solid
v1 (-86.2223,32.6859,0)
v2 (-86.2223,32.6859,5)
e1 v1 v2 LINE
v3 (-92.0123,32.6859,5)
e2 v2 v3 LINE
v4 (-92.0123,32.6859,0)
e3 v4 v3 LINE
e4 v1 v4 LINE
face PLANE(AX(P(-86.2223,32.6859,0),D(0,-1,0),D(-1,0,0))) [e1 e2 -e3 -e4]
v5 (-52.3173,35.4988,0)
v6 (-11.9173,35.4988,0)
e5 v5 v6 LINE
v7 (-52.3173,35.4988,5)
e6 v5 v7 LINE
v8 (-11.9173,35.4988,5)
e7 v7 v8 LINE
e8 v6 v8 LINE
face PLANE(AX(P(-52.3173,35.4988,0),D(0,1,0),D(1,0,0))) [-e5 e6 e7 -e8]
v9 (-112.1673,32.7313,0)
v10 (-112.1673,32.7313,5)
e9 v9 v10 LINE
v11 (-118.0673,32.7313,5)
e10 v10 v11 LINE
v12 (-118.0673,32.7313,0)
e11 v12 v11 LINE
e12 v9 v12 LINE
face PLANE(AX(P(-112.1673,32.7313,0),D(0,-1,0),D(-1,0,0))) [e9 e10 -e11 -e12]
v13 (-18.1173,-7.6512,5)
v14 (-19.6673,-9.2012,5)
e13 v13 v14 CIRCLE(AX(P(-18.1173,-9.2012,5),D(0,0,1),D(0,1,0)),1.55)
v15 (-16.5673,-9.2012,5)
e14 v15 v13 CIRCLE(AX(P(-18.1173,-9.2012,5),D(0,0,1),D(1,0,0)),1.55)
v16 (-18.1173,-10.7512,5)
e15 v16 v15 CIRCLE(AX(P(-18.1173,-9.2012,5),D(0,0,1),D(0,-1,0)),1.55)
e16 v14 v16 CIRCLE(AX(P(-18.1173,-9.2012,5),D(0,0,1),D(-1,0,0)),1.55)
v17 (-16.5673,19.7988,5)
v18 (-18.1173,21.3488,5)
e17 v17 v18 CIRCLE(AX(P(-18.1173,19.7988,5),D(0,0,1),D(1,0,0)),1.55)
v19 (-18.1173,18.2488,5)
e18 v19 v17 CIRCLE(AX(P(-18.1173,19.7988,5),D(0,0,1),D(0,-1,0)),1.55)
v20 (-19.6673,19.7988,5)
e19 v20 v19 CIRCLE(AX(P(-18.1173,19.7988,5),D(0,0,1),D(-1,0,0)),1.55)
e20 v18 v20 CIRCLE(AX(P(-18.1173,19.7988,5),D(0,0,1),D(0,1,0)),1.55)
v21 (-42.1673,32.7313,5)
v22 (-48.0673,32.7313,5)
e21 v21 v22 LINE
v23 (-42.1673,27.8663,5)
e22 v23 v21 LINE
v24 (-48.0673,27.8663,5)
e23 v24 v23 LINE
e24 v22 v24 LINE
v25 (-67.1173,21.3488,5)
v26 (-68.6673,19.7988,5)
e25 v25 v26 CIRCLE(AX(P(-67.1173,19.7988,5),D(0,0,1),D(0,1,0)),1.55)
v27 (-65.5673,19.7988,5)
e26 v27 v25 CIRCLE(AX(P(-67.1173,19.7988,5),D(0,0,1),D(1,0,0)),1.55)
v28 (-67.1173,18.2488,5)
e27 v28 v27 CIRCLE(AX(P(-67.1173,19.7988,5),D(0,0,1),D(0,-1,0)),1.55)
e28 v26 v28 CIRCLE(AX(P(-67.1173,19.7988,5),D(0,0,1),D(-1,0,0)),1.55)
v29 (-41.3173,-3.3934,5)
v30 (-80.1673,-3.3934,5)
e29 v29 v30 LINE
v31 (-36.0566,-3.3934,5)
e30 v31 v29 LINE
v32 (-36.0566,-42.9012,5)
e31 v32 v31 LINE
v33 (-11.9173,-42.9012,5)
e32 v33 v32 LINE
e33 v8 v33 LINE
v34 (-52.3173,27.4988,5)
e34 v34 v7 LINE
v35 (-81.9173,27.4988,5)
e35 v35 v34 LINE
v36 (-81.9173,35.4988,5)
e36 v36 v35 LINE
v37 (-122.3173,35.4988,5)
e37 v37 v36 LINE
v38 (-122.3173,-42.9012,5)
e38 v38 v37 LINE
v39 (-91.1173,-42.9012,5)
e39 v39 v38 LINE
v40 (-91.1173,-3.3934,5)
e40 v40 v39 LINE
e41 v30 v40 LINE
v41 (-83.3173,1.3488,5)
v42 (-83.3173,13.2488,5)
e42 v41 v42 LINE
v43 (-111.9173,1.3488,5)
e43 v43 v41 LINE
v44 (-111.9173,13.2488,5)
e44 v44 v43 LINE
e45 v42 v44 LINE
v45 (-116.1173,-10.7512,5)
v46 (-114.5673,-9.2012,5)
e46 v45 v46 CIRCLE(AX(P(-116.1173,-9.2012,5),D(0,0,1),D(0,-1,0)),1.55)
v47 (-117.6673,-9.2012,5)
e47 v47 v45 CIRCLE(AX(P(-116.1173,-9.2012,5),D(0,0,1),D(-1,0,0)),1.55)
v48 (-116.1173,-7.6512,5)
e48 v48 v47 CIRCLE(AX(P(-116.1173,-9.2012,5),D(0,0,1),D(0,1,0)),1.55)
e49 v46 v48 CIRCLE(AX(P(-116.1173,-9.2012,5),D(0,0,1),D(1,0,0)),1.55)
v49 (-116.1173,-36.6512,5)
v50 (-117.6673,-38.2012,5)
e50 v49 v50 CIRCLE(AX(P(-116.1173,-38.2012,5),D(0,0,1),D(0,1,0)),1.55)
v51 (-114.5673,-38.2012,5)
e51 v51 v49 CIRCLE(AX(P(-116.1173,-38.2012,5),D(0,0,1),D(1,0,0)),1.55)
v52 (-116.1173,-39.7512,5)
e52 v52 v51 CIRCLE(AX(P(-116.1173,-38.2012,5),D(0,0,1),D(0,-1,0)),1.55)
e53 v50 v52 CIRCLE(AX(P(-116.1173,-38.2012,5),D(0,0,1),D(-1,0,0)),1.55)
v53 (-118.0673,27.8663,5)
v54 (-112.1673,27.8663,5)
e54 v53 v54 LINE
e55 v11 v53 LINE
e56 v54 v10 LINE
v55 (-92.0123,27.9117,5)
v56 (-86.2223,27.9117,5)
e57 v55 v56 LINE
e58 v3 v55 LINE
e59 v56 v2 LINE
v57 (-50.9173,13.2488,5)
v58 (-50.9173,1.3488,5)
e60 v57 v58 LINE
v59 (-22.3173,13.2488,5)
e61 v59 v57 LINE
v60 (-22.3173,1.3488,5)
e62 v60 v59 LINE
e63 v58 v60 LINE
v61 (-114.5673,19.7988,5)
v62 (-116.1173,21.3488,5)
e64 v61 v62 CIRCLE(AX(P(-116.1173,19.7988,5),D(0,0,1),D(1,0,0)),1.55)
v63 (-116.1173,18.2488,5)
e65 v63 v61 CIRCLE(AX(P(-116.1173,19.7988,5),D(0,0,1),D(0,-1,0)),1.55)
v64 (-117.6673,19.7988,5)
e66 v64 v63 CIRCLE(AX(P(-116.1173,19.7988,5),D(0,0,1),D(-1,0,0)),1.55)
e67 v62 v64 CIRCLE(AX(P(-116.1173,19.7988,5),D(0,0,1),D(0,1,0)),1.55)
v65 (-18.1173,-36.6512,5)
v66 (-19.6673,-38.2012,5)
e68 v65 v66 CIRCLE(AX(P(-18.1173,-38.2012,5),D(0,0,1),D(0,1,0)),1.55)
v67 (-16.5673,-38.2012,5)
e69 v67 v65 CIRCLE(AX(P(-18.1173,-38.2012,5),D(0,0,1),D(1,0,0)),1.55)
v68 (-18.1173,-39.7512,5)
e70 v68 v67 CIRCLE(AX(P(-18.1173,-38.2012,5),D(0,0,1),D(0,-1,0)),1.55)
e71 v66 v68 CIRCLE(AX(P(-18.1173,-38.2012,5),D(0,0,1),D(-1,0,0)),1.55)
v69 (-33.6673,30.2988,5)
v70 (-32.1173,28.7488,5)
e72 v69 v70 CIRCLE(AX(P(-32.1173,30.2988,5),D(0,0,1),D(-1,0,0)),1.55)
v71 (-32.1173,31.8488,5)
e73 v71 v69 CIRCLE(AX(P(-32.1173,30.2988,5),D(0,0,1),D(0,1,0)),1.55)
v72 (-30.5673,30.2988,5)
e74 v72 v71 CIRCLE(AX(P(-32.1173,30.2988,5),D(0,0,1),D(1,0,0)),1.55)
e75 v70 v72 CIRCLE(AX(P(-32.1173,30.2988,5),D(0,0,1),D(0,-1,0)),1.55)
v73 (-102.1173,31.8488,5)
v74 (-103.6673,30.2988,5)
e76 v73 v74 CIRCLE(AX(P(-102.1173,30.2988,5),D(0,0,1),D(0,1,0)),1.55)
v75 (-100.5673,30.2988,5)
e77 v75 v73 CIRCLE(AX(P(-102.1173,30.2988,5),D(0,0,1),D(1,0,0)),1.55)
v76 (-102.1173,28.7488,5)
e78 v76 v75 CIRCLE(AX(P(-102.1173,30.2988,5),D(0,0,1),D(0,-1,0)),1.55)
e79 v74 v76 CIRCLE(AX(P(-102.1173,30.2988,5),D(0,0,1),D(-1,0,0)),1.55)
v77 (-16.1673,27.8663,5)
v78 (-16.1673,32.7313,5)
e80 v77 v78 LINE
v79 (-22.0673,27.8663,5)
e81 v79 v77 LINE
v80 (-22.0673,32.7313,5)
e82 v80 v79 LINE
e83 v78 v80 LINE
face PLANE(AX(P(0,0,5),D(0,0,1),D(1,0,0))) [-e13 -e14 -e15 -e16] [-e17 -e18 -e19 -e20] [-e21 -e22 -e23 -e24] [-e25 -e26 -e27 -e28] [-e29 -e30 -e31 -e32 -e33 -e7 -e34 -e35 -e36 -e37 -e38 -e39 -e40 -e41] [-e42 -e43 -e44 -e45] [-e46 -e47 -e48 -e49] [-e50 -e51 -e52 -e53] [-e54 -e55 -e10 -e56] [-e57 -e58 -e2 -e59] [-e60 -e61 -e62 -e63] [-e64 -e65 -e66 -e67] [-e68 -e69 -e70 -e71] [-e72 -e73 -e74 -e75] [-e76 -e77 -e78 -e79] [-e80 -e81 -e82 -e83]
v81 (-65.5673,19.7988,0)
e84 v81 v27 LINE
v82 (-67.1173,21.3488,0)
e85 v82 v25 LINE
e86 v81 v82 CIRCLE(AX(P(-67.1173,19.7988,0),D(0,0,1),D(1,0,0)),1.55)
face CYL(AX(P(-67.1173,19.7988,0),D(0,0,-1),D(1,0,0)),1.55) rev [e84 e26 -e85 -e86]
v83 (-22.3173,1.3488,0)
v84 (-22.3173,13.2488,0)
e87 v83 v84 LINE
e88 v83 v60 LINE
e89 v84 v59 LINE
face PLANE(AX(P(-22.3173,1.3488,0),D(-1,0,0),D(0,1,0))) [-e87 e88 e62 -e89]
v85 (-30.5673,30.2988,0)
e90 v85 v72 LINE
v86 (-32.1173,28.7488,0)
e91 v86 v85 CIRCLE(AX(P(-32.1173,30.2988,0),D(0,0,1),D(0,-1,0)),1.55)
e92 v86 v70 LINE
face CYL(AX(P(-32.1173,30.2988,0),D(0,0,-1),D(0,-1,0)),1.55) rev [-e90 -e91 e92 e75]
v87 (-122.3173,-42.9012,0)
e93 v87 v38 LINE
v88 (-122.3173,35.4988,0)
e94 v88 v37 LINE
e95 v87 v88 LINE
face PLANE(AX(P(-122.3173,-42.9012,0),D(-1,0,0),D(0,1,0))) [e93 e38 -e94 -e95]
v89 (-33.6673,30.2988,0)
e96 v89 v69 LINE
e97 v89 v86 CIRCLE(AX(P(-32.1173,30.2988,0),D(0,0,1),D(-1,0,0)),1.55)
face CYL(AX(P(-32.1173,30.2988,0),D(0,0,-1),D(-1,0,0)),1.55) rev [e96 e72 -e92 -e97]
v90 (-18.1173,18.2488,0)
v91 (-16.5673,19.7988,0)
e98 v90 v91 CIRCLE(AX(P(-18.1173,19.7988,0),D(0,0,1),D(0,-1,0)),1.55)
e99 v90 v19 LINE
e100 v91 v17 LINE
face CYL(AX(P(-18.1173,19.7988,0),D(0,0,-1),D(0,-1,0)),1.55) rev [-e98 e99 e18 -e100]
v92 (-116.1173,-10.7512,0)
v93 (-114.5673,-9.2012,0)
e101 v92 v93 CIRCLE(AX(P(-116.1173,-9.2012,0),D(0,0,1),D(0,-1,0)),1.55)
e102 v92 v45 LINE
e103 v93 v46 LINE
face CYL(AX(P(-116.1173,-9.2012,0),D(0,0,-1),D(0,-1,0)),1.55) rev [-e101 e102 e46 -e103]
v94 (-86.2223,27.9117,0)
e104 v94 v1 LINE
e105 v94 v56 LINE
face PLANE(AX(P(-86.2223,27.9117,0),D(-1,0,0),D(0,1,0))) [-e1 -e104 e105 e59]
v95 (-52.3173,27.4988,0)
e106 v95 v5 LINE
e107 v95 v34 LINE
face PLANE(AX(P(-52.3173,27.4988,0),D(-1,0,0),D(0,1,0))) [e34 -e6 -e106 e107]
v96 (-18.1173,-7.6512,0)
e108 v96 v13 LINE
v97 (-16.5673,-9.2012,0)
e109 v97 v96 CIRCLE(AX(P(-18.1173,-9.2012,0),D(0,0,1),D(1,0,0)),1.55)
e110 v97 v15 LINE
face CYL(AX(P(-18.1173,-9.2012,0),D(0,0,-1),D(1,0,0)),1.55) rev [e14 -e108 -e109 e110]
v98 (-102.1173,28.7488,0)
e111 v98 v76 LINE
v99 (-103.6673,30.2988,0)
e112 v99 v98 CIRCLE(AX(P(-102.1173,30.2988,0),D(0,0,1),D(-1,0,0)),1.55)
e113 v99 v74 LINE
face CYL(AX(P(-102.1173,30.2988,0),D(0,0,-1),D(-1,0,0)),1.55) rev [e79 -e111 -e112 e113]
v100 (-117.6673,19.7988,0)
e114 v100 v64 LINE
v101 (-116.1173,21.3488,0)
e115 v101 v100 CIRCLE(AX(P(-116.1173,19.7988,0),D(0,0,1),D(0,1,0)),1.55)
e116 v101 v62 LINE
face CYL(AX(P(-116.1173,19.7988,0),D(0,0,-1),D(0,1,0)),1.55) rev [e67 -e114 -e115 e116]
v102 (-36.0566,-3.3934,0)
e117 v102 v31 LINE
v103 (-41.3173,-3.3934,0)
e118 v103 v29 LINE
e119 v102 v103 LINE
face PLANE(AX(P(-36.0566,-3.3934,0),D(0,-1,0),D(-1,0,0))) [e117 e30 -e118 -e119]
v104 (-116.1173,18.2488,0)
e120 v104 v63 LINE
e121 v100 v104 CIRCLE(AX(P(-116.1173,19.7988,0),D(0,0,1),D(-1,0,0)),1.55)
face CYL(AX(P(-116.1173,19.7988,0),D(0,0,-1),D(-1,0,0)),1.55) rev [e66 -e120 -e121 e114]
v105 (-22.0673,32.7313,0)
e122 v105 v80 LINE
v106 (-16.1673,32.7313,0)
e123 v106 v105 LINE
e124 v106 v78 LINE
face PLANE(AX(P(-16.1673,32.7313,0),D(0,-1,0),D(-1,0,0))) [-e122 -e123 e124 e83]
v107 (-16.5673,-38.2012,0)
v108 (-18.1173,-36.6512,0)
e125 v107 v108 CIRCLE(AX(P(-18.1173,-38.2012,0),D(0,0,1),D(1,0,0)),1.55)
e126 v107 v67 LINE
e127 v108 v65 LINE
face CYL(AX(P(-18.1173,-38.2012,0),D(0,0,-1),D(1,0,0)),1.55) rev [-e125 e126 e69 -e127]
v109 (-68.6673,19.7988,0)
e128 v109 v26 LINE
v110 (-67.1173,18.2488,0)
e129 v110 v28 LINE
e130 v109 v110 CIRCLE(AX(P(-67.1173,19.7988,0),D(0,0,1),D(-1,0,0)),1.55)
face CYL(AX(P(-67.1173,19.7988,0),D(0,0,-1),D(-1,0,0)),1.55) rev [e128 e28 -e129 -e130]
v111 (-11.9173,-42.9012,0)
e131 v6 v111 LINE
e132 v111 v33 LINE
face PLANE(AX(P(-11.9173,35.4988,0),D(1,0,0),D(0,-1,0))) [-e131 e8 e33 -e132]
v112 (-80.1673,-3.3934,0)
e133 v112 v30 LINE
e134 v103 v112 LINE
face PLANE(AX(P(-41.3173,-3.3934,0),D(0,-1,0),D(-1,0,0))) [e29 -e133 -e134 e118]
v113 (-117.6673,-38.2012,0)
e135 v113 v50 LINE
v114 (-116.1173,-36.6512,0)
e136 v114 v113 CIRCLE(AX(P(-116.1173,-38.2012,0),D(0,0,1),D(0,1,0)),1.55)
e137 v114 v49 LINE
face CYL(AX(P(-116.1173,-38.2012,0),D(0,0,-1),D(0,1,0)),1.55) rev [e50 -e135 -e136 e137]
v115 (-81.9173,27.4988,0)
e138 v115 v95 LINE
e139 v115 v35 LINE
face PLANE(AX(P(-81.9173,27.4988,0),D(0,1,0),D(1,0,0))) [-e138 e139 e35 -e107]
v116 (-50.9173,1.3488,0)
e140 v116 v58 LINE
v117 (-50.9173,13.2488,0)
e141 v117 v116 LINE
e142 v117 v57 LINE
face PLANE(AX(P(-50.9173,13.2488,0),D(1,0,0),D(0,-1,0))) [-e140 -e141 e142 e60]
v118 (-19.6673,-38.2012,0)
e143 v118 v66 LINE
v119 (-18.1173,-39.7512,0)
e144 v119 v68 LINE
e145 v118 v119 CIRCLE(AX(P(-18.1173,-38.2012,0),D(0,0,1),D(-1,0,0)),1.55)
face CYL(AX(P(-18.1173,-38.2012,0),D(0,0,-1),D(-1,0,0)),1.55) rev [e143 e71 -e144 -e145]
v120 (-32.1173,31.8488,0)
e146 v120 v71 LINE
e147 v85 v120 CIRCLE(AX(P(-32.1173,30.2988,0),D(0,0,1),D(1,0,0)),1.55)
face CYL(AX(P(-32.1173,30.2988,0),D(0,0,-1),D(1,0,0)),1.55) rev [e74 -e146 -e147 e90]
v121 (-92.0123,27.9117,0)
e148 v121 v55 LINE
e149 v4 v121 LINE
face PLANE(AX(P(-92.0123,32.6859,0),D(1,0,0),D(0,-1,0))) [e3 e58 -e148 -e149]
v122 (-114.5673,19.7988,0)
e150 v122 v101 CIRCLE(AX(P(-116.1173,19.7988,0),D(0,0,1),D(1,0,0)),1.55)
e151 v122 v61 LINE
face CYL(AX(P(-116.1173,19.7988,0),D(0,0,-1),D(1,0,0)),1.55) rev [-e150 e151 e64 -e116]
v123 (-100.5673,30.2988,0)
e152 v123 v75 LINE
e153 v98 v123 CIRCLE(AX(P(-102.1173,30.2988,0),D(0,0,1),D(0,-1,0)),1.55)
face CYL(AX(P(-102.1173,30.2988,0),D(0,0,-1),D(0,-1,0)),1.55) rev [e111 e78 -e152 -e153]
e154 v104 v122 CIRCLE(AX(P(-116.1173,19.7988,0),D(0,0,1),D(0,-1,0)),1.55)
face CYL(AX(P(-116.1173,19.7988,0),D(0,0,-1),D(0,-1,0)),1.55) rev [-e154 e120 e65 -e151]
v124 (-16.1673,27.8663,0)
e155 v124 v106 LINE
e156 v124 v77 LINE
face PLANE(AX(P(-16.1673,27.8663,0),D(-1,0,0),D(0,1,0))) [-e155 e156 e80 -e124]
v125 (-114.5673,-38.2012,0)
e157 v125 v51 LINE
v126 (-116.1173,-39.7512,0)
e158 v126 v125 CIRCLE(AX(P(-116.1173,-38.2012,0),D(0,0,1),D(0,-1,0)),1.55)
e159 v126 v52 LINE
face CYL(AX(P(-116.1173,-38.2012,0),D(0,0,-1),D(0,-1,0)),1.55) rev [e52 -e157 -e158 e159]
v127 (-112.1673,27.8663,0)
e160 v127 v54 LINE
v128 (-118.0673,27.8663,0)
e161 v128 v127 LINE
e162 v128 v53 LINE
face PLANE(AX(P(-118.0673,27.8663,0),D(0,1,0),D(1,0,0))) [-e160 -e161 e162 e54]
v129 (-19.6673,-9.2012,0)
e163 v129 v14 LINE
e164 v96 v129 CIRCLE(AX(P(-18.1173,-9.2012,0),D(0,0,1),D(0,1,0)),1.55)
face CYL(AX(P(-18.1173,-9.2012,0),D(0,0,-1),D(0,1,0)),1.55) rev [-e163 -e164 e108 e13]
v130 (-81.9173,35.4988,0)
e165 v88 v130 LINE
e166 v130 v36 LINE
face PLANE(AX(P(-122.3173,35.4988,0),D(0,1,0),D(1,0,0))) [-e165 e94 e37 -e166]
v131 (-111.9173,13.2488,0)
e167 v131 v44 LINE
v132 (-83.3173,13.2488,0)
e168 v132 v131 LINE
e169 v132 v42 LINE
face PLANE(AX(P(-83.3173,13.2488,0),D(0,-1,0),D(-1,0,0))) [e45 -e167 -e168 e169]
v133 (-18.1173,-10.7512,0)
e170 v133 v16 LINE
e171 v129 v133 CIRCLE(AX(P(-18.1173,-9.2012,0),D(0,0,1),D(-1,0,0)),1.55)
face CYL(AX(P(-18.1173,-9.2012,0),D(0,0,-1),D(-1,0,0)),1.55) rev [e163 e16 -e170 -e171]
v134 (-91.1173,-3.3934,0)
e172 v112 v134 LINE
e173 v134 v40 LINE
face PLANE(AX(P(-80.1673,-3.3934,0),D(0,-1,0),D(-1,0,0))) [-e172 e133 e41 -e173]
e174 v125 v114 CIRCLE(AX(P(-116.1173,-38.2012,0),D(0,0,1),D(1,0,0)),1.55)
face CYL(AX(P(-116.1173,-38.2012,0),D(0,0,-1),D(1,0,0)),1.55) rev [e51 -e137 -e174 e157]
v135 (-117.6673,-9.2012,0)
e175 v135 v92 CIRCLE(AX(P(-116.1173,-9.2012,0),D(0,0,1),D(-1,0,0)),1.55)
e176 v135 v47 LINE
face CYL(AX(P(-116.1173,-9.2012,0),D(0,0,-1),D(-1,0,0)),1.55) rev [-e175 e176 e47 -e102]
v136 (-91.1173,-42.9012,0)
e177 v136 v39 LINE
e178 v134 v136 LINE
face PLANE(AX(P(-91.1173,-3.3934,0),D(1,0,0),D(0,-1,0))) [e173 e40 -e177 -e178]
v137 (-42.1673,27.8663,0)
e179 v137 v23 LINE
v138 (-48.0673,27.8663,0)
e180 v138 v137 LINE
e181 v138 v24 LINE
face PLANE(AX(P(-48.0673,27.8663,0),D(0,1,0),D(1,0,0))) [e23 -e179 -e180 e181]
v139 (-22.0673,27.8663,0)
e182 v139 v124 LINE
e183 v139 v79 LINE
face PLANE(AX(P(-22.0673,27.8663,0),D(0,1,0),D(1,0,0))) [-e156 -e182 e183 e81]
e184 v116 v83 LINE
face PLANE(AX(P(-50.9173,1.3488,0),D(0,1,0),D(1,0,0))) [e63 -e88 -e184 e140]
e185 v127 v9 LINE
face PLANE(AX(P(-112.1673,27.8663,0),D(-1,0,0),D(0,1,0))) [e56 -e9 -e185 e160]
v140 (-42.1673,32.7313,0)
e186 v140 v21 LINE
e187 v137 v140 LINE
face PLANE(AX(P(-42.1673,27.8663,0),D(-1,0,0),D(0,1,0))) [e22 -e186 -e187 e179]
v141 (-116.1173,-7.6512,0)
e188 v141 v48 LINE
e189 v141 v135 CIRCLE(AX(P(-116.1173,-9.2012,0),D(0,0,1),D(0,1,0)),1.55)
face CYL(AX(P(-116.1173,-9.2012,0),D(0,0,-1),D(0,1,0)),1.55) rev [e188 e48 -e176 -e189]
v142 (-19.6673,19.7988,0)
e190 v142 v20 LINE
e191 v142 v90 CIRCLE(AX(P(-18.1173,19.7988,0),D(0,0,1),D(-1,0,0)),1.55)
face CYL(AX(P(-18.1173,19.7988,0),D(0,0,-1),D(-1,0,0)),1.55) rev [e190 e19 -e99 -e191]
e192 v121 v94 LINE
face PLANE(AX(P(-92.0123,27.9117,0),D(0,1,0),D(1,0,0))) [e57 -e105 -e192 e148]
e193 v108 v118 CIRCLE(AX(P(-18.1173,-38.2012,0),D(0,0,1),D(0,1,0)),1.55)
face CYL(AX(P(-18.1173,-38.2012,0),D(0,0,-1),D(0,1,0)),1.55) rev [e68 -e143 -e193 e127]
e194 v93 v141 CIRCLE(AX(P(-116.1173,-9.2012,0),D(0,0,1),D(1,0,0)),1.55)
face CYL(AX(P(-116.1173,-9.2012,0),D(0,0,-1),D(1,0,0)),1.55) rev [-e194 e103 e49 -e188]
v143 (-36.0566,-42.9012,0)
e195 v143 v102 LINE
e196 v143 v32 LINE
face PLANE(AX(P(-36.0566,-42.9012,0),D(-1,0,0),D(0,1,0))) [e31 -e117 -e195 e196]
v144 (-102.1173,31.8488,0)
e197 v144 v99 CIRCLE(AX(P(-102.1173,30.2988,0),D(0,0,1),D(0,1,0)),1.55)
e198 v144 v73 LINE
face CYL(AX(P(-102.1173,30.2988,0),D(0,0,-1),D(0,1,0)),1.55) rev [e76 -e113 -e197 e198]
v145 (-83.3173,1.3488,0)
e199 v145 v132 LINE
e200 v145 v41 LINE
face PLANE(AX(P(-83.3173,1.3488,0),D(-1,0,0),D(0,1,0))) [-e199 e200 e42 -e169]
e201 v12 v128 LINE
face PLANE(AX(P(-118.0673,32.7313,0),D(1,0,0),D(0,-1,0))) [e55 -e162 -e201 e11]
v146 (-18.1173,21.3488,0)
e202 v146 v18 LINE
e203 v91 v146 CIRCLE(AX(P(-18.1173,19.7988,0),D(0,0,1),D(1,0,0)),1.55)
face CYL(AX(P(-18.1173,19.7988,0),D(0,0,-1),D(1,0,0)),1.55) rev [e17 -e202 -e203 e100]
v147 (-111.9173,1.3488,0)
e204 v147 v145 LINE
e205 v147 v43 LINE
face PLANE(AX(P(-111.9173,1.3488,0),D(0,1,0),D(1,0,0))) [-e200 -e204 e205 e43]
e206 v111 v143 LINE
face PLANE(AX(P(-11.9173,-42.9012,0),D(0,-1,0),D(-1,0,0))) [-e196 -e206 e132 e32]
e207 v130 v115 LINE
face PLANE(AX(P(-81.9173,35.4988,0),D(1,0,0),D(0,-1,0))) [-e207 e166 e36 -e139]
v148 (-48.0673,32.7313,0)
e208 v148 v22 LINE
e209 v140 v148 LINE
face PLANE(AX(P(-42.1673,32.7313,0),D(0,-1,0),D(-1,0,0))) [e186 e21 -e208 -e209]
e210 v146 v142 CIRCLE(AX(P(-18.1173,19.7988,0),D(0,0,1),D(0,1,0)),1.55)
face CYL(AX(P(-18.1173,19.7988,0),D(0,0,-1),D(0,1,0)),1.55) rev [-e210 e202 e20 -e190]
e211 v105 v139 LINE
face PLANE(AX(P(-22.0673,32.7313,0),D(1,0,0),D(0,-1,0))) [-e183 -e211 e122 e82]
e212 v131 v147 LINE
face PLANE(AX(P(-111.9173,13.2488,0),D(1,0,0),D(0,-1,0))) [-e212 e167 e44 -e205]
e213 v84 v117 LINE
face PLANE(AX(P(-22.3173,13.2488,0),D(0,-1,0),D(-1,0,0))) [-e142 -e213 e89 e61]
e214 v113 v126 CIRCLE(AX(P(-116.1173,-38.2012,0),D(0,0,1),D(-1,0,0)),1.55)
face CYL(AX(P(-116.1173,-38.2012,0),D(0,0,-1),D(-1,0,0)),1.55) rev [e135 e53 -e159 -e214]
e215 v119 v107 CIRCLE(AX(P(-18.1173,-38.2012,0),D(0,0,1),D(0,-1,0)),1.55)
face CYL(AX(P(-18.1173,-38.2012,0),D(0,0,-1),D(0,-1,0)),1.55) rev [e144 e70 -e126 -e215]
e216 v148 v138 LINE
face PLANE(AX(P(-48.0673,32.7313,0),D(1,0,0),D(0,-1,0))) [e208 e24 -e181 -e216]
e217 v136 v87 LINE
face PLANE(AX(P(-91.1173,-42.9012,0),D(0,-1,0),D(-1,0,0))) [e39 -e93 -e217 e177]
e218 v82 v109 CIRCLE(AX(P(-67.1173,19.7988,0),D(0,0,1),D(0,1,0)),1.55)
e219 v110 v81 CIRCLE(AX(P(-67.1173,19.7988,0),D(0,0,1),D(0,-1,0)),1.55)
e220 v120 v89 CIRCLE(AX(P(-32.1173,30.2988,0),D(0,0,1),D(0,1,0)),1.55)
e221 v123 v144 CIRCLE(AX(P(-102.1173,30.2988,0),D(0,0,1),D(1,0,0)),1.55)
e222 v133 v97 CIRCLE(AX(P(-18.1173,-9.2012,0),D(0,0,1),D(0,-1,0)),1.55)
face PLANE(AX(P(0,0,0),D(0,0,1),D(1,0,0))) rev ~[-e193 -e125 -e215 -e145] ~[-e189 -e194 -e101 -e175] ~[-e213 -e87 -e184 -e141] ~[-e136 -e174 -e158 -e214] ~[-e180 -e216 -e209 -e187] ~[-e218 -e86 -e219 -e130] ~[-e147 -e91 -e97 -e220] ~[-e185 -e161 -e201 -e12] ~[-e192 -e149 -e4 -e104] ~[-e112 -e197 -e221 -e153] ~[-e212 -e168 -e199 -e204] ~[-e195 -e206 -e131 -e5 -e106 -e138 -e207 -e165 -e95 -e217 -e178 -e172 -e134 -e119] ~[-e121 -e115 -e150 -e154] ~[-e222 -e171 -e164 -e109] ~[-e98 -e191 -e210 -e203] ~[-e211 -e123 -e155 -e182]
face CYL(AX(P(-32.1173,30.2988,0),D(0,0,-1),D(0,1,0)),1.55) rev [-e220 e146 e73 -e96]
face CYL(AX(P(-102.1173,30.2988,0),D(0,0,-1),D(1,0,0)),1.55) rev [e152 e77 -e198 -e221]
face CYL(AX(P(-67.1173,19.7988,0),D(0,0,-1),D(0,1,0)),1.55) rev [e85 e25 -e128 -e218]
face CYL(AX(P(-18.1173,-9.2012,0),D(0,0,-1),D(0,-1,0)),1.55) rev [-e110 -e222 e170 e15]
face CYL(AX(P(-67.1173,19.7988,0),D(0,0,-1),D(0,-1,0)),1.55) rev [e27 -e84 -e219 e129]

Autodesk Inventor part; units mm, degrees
ref_plane "YZ Plane" through (0, 0, 0) normal (1, 0, 0) x (0, 1, 0)
ref_plane "XZ Plane" through (0, 0, 0) normal (0, 1, 0) x (-1, 0, 0)
ref_plane "XY Plane" through (0, 0, 0) normal (0, 0, 1) x (1, 0, 0)
sketch "Boceto1" plane through (0, 0, 0) normal (0, 0, 1) x (1, 0, 0)
  arc A0 (-116.1173, 21.3488) -> (-117.6673, 19.7988) centre (-116.1173, 19.7988) ccw
  arc A1 (-117.6673, 19.7988) -> (-116.1173, 18.2488) centre (-116.1173, 19.7988) ccw
  arc A2 (-116.1173, 18.2488) -> (-114.5673, 19.7988) centre (-116.1173, 19.7988) ccw
  arc A3 (-114.5673, 19.7988) -> (-116.1173, 21.3488) centre (-116.1173, 19.7988) ccw
  arc A4 (-67.1173, 21.3488) -> (-68.6673, 19.7988) centre (-67.1173, 19.7988) ccw
  arc A5 (-68.6673, 19.7988) -> (-67.1173, 18.2488) centre (-67.1173, 19.7988) ccw
  arc A6 (-67.1173, 18.2488) -> (-65.5673, 19.7988) centre (-67.1173, 19.7988) ccw
  arc A7 (-65.5673, 19.7988) -> (-67.1173, 21.3488) centre (-67.1173, 19.7988) ccw
  arc A8 (-18.1173, 21.3488) -> (-19.6673, 19.7988) centre (-18.1173, 19.7988) ccw
  arc A9 (-19.6673, 19.7988) -> (-18.1173, 18.2488) centre (-18.1173, 19.7988) ccw
  arc A10 (-18.1173, 18.2488) -> (-16.5673, 19.7988) centre (-18.1173, 19.7988) ccw
  arc A11 (-16.5673, 19.7988) -> (-18.1173, 21.3488) centre (-18.1173, 19.7988) ccw
  arc A12 (-18.1173, -7.6512) -> (-19.6673, -9.2012) centre (-18.1173, -9.2012) ccw
  arc A13 (-19.6673, -9.2012) -> (-18.1173, -10.7512) centre (-18.1173, -9.2012) ccw
  arc A14 (-18.1173, -10.7512) -> (-16.5673, -9.2012) centre (-18.1173, -9.2012) ccw
  arc A15 (-16.5673, -9.2012) -> (-18.1173, -7.6512) centre (-18.1173, -9.2012) ccw
  arc A16 (-116.1173, -7.6512) -> (-117.6673, -9.2012) centre (-116.1173, -9.2012) ccw
  arc A17 (-117.6673, -9.2012) -> (-116.1173, -10.7512) centre (-116.1173, -9.2012) ccw
  arc A18 (-116.1173, -10.7512) -> (-114.5673, -9.2012) centre (-116.1173, -9.2012) ccw
  arc A19 (-114.5673, -9.2012) -> (-116.1173, -7.6512) centre (-116.1173, -9.2012) ccw
  arc A20 (-116.1173, -36.6512) -> (-117.6673, -38.2012) centre (-116.1173, -38.2012) ccw
  arc A21 (-117.6673, -38.2012) -> (-116.1173, -39.7512) centre (-116.1173, -38.2012) ccw
  arc A22 (-116.1173, -39.7512) -> (-114.5673, -38.2012) centre (-116.1173, -38.2012) ccw
  arc A23 (-114.5673, -38.2012) -> (-116.1173, -36.6512) centre (-116.1173, -38.2012) ccw
  arc A24 (-18.1173, -36.6512) -> (-19.6673, -38.2012) centre (-18.1173, -38.2012) ccw
  arc A25 (-19.6673, -38.2012) -> (-18.1173, -39.7512) centre (-18.1173, -38.2012) ccw
  arc A26 (-18.1173, -39.7512) -> (-16.5673, -38.2012) centre (-18.1173, -38.2012) ccw
  arc A27 (-16.5673, -38.2012) -> (-18.1173, -36.6512) centre (-18.1173, -38.2012) ccw
  arc A28 (-102.1173, 31.8488) -> (-103.6673, 30.2988) centre (-102.1173, 30.2988) ccw
  arc A29 (-103.6673, 30.2988) -> (-102.1173, 28.7488) centre (-102.1173, 30.2988) ccw
  arc A30 (-102.1173, 28.7488) -> (-100.5673, 30.2988) centre (-102.1173, 30.2988) ccw
  arc A31 (-100.5673, 30.2988) -> (-102.1173, 31.8488) centre (-102.1173, 30.2988) ccw
  arc A32 (-32.1173, 31.8488) -> (-33.6673, 30.2988) centre (-32.1173, 30.2988) ccw
  arc A33 (-33.6673, 30.2988) -> (-32.1173, 28.7488) centre (-32.1173, 30.2988) ccw
  arc A34 (-32.1173, 28.7488) -> (-30.5673, 30.2988) centre (-32.1173, 30.2988) ccw
  arc A35 (-30.5673, 30.2988) -> (-32.1173, 31.8488) centre (-32.1173, 30.2988) ccw
  line L0 (-22.3173, 1.3488) -> (-22.3173, 13.2488)
  line L1 (-22.3173, 13.2488) -> (-50.9173, 13.2488)
  line L2 (-50.9173, 13.2488) -> (-50.9173, 1.3488)
  line L3 (-50.9173, 1.3488) -> (-22.3173, 1.3488)
  line L4 (-83.3173, 1.3488) -> (-83.3173, 13.2488)
  line L5 (-83.3173, 13.2488) -> (-111.9173, 13.2488)
  line L6 (-111.9173, 13.2488) -> (-111.9173, 1.3488)
  line L7 (-111.9173, 1.3488) -> (-83.3173, 1.3488)
  line L8 (-86.2223, 27.9117) -> (-86.2223, 32.6859)
  line L9 (-86.2223, 32.6859) -> (-92.0123, 32.6859)
  line L10 (-92.0123, 32.6859) -> (-92.0123, 27.9117)
  line L11 (-92.0123, 27.9117) -> (-86.2223, 27.9117)
  line L12 (-112.1673, 27.8663) -> (-112.1673, 32.7313)
  line L13 (-112.1673, 32.7313) -> (-118.0673, 32.7313)
  line L14 (-118.0673, 32.7313) -> (-118.0673, 27.8663)
  line L15 (-118.0673, 27.8663) -> (-112.1673, 27.8663)
  line L16 (-42.1673, 27.8663) -> (-42.1673, 32.7313)
  line L17 (-42.1673, 32.7313) -> (-48.0673, 32.7313)
  line L18 (-48.0673, 32.7313) -> (-48.0673, 27.8663)
  line L19 (-48.0673, 27.8663) -> (-42.1673, 27.8663)
  line L20 (-16.1673, 27.8663) -> (-16.1673, 32.7313)
  line L21 (-16.1673, 32.7313) -> (-22.0673, 32.7313)
  line L22 (-22.0673, 32.7313) -> (-22.0673, 27.8663)
  line L23 (-22.0673, 27.8663) -> (-16.1673, 27.8663)
  line L24 (-36.0566, -42.9012) -> (-36.0566, -3.3934)
  line L25 (-36.0566, -3.3934) -> (-41.3173, -3.3934)
  line L26 (-41.3173, -3.3934) -> (-80.1673, -3.3934)
  line L27 (-80.1673, -3.3934) -> (-91.1173, -3.3934)
  line L28 (-91.1173, -3.3934) -> (-91.1173, -42.9012)
  line L29 (-91.1173, -42.9012) -> (-122.3173, -42.9012)
  line L30 (-122.3173, -42.9012) -> (-122.3173, 35.4988)
  line L31 (-122.3173, 35.4988) -> (-81.9173, 35.4988)
  line L32 (-81.9173, 35.4988) -> (-81.9173, 27.4988)
  line L33 (-81.9173, 27.4988) -> (-52.3173, 27.4988)
  line L34 (-52.3173, 27.4988) -> (-52.3173, 35.4988)
  line L35 (-52.3173, 35.4988) -> (-11.9173, 35.4988)
  line L36 (-11.9173, 35.4988) -> (-11.9173, -42.9012)
  line L37 (-11.9173, -42.9012) -> (-36.0566, -42.9012)
  point P0 (0, 0)
extrude "Extrusión1" add sketch "Boceto1" along normal blind 5
properties part number "carro x lado motor pieza 1"
